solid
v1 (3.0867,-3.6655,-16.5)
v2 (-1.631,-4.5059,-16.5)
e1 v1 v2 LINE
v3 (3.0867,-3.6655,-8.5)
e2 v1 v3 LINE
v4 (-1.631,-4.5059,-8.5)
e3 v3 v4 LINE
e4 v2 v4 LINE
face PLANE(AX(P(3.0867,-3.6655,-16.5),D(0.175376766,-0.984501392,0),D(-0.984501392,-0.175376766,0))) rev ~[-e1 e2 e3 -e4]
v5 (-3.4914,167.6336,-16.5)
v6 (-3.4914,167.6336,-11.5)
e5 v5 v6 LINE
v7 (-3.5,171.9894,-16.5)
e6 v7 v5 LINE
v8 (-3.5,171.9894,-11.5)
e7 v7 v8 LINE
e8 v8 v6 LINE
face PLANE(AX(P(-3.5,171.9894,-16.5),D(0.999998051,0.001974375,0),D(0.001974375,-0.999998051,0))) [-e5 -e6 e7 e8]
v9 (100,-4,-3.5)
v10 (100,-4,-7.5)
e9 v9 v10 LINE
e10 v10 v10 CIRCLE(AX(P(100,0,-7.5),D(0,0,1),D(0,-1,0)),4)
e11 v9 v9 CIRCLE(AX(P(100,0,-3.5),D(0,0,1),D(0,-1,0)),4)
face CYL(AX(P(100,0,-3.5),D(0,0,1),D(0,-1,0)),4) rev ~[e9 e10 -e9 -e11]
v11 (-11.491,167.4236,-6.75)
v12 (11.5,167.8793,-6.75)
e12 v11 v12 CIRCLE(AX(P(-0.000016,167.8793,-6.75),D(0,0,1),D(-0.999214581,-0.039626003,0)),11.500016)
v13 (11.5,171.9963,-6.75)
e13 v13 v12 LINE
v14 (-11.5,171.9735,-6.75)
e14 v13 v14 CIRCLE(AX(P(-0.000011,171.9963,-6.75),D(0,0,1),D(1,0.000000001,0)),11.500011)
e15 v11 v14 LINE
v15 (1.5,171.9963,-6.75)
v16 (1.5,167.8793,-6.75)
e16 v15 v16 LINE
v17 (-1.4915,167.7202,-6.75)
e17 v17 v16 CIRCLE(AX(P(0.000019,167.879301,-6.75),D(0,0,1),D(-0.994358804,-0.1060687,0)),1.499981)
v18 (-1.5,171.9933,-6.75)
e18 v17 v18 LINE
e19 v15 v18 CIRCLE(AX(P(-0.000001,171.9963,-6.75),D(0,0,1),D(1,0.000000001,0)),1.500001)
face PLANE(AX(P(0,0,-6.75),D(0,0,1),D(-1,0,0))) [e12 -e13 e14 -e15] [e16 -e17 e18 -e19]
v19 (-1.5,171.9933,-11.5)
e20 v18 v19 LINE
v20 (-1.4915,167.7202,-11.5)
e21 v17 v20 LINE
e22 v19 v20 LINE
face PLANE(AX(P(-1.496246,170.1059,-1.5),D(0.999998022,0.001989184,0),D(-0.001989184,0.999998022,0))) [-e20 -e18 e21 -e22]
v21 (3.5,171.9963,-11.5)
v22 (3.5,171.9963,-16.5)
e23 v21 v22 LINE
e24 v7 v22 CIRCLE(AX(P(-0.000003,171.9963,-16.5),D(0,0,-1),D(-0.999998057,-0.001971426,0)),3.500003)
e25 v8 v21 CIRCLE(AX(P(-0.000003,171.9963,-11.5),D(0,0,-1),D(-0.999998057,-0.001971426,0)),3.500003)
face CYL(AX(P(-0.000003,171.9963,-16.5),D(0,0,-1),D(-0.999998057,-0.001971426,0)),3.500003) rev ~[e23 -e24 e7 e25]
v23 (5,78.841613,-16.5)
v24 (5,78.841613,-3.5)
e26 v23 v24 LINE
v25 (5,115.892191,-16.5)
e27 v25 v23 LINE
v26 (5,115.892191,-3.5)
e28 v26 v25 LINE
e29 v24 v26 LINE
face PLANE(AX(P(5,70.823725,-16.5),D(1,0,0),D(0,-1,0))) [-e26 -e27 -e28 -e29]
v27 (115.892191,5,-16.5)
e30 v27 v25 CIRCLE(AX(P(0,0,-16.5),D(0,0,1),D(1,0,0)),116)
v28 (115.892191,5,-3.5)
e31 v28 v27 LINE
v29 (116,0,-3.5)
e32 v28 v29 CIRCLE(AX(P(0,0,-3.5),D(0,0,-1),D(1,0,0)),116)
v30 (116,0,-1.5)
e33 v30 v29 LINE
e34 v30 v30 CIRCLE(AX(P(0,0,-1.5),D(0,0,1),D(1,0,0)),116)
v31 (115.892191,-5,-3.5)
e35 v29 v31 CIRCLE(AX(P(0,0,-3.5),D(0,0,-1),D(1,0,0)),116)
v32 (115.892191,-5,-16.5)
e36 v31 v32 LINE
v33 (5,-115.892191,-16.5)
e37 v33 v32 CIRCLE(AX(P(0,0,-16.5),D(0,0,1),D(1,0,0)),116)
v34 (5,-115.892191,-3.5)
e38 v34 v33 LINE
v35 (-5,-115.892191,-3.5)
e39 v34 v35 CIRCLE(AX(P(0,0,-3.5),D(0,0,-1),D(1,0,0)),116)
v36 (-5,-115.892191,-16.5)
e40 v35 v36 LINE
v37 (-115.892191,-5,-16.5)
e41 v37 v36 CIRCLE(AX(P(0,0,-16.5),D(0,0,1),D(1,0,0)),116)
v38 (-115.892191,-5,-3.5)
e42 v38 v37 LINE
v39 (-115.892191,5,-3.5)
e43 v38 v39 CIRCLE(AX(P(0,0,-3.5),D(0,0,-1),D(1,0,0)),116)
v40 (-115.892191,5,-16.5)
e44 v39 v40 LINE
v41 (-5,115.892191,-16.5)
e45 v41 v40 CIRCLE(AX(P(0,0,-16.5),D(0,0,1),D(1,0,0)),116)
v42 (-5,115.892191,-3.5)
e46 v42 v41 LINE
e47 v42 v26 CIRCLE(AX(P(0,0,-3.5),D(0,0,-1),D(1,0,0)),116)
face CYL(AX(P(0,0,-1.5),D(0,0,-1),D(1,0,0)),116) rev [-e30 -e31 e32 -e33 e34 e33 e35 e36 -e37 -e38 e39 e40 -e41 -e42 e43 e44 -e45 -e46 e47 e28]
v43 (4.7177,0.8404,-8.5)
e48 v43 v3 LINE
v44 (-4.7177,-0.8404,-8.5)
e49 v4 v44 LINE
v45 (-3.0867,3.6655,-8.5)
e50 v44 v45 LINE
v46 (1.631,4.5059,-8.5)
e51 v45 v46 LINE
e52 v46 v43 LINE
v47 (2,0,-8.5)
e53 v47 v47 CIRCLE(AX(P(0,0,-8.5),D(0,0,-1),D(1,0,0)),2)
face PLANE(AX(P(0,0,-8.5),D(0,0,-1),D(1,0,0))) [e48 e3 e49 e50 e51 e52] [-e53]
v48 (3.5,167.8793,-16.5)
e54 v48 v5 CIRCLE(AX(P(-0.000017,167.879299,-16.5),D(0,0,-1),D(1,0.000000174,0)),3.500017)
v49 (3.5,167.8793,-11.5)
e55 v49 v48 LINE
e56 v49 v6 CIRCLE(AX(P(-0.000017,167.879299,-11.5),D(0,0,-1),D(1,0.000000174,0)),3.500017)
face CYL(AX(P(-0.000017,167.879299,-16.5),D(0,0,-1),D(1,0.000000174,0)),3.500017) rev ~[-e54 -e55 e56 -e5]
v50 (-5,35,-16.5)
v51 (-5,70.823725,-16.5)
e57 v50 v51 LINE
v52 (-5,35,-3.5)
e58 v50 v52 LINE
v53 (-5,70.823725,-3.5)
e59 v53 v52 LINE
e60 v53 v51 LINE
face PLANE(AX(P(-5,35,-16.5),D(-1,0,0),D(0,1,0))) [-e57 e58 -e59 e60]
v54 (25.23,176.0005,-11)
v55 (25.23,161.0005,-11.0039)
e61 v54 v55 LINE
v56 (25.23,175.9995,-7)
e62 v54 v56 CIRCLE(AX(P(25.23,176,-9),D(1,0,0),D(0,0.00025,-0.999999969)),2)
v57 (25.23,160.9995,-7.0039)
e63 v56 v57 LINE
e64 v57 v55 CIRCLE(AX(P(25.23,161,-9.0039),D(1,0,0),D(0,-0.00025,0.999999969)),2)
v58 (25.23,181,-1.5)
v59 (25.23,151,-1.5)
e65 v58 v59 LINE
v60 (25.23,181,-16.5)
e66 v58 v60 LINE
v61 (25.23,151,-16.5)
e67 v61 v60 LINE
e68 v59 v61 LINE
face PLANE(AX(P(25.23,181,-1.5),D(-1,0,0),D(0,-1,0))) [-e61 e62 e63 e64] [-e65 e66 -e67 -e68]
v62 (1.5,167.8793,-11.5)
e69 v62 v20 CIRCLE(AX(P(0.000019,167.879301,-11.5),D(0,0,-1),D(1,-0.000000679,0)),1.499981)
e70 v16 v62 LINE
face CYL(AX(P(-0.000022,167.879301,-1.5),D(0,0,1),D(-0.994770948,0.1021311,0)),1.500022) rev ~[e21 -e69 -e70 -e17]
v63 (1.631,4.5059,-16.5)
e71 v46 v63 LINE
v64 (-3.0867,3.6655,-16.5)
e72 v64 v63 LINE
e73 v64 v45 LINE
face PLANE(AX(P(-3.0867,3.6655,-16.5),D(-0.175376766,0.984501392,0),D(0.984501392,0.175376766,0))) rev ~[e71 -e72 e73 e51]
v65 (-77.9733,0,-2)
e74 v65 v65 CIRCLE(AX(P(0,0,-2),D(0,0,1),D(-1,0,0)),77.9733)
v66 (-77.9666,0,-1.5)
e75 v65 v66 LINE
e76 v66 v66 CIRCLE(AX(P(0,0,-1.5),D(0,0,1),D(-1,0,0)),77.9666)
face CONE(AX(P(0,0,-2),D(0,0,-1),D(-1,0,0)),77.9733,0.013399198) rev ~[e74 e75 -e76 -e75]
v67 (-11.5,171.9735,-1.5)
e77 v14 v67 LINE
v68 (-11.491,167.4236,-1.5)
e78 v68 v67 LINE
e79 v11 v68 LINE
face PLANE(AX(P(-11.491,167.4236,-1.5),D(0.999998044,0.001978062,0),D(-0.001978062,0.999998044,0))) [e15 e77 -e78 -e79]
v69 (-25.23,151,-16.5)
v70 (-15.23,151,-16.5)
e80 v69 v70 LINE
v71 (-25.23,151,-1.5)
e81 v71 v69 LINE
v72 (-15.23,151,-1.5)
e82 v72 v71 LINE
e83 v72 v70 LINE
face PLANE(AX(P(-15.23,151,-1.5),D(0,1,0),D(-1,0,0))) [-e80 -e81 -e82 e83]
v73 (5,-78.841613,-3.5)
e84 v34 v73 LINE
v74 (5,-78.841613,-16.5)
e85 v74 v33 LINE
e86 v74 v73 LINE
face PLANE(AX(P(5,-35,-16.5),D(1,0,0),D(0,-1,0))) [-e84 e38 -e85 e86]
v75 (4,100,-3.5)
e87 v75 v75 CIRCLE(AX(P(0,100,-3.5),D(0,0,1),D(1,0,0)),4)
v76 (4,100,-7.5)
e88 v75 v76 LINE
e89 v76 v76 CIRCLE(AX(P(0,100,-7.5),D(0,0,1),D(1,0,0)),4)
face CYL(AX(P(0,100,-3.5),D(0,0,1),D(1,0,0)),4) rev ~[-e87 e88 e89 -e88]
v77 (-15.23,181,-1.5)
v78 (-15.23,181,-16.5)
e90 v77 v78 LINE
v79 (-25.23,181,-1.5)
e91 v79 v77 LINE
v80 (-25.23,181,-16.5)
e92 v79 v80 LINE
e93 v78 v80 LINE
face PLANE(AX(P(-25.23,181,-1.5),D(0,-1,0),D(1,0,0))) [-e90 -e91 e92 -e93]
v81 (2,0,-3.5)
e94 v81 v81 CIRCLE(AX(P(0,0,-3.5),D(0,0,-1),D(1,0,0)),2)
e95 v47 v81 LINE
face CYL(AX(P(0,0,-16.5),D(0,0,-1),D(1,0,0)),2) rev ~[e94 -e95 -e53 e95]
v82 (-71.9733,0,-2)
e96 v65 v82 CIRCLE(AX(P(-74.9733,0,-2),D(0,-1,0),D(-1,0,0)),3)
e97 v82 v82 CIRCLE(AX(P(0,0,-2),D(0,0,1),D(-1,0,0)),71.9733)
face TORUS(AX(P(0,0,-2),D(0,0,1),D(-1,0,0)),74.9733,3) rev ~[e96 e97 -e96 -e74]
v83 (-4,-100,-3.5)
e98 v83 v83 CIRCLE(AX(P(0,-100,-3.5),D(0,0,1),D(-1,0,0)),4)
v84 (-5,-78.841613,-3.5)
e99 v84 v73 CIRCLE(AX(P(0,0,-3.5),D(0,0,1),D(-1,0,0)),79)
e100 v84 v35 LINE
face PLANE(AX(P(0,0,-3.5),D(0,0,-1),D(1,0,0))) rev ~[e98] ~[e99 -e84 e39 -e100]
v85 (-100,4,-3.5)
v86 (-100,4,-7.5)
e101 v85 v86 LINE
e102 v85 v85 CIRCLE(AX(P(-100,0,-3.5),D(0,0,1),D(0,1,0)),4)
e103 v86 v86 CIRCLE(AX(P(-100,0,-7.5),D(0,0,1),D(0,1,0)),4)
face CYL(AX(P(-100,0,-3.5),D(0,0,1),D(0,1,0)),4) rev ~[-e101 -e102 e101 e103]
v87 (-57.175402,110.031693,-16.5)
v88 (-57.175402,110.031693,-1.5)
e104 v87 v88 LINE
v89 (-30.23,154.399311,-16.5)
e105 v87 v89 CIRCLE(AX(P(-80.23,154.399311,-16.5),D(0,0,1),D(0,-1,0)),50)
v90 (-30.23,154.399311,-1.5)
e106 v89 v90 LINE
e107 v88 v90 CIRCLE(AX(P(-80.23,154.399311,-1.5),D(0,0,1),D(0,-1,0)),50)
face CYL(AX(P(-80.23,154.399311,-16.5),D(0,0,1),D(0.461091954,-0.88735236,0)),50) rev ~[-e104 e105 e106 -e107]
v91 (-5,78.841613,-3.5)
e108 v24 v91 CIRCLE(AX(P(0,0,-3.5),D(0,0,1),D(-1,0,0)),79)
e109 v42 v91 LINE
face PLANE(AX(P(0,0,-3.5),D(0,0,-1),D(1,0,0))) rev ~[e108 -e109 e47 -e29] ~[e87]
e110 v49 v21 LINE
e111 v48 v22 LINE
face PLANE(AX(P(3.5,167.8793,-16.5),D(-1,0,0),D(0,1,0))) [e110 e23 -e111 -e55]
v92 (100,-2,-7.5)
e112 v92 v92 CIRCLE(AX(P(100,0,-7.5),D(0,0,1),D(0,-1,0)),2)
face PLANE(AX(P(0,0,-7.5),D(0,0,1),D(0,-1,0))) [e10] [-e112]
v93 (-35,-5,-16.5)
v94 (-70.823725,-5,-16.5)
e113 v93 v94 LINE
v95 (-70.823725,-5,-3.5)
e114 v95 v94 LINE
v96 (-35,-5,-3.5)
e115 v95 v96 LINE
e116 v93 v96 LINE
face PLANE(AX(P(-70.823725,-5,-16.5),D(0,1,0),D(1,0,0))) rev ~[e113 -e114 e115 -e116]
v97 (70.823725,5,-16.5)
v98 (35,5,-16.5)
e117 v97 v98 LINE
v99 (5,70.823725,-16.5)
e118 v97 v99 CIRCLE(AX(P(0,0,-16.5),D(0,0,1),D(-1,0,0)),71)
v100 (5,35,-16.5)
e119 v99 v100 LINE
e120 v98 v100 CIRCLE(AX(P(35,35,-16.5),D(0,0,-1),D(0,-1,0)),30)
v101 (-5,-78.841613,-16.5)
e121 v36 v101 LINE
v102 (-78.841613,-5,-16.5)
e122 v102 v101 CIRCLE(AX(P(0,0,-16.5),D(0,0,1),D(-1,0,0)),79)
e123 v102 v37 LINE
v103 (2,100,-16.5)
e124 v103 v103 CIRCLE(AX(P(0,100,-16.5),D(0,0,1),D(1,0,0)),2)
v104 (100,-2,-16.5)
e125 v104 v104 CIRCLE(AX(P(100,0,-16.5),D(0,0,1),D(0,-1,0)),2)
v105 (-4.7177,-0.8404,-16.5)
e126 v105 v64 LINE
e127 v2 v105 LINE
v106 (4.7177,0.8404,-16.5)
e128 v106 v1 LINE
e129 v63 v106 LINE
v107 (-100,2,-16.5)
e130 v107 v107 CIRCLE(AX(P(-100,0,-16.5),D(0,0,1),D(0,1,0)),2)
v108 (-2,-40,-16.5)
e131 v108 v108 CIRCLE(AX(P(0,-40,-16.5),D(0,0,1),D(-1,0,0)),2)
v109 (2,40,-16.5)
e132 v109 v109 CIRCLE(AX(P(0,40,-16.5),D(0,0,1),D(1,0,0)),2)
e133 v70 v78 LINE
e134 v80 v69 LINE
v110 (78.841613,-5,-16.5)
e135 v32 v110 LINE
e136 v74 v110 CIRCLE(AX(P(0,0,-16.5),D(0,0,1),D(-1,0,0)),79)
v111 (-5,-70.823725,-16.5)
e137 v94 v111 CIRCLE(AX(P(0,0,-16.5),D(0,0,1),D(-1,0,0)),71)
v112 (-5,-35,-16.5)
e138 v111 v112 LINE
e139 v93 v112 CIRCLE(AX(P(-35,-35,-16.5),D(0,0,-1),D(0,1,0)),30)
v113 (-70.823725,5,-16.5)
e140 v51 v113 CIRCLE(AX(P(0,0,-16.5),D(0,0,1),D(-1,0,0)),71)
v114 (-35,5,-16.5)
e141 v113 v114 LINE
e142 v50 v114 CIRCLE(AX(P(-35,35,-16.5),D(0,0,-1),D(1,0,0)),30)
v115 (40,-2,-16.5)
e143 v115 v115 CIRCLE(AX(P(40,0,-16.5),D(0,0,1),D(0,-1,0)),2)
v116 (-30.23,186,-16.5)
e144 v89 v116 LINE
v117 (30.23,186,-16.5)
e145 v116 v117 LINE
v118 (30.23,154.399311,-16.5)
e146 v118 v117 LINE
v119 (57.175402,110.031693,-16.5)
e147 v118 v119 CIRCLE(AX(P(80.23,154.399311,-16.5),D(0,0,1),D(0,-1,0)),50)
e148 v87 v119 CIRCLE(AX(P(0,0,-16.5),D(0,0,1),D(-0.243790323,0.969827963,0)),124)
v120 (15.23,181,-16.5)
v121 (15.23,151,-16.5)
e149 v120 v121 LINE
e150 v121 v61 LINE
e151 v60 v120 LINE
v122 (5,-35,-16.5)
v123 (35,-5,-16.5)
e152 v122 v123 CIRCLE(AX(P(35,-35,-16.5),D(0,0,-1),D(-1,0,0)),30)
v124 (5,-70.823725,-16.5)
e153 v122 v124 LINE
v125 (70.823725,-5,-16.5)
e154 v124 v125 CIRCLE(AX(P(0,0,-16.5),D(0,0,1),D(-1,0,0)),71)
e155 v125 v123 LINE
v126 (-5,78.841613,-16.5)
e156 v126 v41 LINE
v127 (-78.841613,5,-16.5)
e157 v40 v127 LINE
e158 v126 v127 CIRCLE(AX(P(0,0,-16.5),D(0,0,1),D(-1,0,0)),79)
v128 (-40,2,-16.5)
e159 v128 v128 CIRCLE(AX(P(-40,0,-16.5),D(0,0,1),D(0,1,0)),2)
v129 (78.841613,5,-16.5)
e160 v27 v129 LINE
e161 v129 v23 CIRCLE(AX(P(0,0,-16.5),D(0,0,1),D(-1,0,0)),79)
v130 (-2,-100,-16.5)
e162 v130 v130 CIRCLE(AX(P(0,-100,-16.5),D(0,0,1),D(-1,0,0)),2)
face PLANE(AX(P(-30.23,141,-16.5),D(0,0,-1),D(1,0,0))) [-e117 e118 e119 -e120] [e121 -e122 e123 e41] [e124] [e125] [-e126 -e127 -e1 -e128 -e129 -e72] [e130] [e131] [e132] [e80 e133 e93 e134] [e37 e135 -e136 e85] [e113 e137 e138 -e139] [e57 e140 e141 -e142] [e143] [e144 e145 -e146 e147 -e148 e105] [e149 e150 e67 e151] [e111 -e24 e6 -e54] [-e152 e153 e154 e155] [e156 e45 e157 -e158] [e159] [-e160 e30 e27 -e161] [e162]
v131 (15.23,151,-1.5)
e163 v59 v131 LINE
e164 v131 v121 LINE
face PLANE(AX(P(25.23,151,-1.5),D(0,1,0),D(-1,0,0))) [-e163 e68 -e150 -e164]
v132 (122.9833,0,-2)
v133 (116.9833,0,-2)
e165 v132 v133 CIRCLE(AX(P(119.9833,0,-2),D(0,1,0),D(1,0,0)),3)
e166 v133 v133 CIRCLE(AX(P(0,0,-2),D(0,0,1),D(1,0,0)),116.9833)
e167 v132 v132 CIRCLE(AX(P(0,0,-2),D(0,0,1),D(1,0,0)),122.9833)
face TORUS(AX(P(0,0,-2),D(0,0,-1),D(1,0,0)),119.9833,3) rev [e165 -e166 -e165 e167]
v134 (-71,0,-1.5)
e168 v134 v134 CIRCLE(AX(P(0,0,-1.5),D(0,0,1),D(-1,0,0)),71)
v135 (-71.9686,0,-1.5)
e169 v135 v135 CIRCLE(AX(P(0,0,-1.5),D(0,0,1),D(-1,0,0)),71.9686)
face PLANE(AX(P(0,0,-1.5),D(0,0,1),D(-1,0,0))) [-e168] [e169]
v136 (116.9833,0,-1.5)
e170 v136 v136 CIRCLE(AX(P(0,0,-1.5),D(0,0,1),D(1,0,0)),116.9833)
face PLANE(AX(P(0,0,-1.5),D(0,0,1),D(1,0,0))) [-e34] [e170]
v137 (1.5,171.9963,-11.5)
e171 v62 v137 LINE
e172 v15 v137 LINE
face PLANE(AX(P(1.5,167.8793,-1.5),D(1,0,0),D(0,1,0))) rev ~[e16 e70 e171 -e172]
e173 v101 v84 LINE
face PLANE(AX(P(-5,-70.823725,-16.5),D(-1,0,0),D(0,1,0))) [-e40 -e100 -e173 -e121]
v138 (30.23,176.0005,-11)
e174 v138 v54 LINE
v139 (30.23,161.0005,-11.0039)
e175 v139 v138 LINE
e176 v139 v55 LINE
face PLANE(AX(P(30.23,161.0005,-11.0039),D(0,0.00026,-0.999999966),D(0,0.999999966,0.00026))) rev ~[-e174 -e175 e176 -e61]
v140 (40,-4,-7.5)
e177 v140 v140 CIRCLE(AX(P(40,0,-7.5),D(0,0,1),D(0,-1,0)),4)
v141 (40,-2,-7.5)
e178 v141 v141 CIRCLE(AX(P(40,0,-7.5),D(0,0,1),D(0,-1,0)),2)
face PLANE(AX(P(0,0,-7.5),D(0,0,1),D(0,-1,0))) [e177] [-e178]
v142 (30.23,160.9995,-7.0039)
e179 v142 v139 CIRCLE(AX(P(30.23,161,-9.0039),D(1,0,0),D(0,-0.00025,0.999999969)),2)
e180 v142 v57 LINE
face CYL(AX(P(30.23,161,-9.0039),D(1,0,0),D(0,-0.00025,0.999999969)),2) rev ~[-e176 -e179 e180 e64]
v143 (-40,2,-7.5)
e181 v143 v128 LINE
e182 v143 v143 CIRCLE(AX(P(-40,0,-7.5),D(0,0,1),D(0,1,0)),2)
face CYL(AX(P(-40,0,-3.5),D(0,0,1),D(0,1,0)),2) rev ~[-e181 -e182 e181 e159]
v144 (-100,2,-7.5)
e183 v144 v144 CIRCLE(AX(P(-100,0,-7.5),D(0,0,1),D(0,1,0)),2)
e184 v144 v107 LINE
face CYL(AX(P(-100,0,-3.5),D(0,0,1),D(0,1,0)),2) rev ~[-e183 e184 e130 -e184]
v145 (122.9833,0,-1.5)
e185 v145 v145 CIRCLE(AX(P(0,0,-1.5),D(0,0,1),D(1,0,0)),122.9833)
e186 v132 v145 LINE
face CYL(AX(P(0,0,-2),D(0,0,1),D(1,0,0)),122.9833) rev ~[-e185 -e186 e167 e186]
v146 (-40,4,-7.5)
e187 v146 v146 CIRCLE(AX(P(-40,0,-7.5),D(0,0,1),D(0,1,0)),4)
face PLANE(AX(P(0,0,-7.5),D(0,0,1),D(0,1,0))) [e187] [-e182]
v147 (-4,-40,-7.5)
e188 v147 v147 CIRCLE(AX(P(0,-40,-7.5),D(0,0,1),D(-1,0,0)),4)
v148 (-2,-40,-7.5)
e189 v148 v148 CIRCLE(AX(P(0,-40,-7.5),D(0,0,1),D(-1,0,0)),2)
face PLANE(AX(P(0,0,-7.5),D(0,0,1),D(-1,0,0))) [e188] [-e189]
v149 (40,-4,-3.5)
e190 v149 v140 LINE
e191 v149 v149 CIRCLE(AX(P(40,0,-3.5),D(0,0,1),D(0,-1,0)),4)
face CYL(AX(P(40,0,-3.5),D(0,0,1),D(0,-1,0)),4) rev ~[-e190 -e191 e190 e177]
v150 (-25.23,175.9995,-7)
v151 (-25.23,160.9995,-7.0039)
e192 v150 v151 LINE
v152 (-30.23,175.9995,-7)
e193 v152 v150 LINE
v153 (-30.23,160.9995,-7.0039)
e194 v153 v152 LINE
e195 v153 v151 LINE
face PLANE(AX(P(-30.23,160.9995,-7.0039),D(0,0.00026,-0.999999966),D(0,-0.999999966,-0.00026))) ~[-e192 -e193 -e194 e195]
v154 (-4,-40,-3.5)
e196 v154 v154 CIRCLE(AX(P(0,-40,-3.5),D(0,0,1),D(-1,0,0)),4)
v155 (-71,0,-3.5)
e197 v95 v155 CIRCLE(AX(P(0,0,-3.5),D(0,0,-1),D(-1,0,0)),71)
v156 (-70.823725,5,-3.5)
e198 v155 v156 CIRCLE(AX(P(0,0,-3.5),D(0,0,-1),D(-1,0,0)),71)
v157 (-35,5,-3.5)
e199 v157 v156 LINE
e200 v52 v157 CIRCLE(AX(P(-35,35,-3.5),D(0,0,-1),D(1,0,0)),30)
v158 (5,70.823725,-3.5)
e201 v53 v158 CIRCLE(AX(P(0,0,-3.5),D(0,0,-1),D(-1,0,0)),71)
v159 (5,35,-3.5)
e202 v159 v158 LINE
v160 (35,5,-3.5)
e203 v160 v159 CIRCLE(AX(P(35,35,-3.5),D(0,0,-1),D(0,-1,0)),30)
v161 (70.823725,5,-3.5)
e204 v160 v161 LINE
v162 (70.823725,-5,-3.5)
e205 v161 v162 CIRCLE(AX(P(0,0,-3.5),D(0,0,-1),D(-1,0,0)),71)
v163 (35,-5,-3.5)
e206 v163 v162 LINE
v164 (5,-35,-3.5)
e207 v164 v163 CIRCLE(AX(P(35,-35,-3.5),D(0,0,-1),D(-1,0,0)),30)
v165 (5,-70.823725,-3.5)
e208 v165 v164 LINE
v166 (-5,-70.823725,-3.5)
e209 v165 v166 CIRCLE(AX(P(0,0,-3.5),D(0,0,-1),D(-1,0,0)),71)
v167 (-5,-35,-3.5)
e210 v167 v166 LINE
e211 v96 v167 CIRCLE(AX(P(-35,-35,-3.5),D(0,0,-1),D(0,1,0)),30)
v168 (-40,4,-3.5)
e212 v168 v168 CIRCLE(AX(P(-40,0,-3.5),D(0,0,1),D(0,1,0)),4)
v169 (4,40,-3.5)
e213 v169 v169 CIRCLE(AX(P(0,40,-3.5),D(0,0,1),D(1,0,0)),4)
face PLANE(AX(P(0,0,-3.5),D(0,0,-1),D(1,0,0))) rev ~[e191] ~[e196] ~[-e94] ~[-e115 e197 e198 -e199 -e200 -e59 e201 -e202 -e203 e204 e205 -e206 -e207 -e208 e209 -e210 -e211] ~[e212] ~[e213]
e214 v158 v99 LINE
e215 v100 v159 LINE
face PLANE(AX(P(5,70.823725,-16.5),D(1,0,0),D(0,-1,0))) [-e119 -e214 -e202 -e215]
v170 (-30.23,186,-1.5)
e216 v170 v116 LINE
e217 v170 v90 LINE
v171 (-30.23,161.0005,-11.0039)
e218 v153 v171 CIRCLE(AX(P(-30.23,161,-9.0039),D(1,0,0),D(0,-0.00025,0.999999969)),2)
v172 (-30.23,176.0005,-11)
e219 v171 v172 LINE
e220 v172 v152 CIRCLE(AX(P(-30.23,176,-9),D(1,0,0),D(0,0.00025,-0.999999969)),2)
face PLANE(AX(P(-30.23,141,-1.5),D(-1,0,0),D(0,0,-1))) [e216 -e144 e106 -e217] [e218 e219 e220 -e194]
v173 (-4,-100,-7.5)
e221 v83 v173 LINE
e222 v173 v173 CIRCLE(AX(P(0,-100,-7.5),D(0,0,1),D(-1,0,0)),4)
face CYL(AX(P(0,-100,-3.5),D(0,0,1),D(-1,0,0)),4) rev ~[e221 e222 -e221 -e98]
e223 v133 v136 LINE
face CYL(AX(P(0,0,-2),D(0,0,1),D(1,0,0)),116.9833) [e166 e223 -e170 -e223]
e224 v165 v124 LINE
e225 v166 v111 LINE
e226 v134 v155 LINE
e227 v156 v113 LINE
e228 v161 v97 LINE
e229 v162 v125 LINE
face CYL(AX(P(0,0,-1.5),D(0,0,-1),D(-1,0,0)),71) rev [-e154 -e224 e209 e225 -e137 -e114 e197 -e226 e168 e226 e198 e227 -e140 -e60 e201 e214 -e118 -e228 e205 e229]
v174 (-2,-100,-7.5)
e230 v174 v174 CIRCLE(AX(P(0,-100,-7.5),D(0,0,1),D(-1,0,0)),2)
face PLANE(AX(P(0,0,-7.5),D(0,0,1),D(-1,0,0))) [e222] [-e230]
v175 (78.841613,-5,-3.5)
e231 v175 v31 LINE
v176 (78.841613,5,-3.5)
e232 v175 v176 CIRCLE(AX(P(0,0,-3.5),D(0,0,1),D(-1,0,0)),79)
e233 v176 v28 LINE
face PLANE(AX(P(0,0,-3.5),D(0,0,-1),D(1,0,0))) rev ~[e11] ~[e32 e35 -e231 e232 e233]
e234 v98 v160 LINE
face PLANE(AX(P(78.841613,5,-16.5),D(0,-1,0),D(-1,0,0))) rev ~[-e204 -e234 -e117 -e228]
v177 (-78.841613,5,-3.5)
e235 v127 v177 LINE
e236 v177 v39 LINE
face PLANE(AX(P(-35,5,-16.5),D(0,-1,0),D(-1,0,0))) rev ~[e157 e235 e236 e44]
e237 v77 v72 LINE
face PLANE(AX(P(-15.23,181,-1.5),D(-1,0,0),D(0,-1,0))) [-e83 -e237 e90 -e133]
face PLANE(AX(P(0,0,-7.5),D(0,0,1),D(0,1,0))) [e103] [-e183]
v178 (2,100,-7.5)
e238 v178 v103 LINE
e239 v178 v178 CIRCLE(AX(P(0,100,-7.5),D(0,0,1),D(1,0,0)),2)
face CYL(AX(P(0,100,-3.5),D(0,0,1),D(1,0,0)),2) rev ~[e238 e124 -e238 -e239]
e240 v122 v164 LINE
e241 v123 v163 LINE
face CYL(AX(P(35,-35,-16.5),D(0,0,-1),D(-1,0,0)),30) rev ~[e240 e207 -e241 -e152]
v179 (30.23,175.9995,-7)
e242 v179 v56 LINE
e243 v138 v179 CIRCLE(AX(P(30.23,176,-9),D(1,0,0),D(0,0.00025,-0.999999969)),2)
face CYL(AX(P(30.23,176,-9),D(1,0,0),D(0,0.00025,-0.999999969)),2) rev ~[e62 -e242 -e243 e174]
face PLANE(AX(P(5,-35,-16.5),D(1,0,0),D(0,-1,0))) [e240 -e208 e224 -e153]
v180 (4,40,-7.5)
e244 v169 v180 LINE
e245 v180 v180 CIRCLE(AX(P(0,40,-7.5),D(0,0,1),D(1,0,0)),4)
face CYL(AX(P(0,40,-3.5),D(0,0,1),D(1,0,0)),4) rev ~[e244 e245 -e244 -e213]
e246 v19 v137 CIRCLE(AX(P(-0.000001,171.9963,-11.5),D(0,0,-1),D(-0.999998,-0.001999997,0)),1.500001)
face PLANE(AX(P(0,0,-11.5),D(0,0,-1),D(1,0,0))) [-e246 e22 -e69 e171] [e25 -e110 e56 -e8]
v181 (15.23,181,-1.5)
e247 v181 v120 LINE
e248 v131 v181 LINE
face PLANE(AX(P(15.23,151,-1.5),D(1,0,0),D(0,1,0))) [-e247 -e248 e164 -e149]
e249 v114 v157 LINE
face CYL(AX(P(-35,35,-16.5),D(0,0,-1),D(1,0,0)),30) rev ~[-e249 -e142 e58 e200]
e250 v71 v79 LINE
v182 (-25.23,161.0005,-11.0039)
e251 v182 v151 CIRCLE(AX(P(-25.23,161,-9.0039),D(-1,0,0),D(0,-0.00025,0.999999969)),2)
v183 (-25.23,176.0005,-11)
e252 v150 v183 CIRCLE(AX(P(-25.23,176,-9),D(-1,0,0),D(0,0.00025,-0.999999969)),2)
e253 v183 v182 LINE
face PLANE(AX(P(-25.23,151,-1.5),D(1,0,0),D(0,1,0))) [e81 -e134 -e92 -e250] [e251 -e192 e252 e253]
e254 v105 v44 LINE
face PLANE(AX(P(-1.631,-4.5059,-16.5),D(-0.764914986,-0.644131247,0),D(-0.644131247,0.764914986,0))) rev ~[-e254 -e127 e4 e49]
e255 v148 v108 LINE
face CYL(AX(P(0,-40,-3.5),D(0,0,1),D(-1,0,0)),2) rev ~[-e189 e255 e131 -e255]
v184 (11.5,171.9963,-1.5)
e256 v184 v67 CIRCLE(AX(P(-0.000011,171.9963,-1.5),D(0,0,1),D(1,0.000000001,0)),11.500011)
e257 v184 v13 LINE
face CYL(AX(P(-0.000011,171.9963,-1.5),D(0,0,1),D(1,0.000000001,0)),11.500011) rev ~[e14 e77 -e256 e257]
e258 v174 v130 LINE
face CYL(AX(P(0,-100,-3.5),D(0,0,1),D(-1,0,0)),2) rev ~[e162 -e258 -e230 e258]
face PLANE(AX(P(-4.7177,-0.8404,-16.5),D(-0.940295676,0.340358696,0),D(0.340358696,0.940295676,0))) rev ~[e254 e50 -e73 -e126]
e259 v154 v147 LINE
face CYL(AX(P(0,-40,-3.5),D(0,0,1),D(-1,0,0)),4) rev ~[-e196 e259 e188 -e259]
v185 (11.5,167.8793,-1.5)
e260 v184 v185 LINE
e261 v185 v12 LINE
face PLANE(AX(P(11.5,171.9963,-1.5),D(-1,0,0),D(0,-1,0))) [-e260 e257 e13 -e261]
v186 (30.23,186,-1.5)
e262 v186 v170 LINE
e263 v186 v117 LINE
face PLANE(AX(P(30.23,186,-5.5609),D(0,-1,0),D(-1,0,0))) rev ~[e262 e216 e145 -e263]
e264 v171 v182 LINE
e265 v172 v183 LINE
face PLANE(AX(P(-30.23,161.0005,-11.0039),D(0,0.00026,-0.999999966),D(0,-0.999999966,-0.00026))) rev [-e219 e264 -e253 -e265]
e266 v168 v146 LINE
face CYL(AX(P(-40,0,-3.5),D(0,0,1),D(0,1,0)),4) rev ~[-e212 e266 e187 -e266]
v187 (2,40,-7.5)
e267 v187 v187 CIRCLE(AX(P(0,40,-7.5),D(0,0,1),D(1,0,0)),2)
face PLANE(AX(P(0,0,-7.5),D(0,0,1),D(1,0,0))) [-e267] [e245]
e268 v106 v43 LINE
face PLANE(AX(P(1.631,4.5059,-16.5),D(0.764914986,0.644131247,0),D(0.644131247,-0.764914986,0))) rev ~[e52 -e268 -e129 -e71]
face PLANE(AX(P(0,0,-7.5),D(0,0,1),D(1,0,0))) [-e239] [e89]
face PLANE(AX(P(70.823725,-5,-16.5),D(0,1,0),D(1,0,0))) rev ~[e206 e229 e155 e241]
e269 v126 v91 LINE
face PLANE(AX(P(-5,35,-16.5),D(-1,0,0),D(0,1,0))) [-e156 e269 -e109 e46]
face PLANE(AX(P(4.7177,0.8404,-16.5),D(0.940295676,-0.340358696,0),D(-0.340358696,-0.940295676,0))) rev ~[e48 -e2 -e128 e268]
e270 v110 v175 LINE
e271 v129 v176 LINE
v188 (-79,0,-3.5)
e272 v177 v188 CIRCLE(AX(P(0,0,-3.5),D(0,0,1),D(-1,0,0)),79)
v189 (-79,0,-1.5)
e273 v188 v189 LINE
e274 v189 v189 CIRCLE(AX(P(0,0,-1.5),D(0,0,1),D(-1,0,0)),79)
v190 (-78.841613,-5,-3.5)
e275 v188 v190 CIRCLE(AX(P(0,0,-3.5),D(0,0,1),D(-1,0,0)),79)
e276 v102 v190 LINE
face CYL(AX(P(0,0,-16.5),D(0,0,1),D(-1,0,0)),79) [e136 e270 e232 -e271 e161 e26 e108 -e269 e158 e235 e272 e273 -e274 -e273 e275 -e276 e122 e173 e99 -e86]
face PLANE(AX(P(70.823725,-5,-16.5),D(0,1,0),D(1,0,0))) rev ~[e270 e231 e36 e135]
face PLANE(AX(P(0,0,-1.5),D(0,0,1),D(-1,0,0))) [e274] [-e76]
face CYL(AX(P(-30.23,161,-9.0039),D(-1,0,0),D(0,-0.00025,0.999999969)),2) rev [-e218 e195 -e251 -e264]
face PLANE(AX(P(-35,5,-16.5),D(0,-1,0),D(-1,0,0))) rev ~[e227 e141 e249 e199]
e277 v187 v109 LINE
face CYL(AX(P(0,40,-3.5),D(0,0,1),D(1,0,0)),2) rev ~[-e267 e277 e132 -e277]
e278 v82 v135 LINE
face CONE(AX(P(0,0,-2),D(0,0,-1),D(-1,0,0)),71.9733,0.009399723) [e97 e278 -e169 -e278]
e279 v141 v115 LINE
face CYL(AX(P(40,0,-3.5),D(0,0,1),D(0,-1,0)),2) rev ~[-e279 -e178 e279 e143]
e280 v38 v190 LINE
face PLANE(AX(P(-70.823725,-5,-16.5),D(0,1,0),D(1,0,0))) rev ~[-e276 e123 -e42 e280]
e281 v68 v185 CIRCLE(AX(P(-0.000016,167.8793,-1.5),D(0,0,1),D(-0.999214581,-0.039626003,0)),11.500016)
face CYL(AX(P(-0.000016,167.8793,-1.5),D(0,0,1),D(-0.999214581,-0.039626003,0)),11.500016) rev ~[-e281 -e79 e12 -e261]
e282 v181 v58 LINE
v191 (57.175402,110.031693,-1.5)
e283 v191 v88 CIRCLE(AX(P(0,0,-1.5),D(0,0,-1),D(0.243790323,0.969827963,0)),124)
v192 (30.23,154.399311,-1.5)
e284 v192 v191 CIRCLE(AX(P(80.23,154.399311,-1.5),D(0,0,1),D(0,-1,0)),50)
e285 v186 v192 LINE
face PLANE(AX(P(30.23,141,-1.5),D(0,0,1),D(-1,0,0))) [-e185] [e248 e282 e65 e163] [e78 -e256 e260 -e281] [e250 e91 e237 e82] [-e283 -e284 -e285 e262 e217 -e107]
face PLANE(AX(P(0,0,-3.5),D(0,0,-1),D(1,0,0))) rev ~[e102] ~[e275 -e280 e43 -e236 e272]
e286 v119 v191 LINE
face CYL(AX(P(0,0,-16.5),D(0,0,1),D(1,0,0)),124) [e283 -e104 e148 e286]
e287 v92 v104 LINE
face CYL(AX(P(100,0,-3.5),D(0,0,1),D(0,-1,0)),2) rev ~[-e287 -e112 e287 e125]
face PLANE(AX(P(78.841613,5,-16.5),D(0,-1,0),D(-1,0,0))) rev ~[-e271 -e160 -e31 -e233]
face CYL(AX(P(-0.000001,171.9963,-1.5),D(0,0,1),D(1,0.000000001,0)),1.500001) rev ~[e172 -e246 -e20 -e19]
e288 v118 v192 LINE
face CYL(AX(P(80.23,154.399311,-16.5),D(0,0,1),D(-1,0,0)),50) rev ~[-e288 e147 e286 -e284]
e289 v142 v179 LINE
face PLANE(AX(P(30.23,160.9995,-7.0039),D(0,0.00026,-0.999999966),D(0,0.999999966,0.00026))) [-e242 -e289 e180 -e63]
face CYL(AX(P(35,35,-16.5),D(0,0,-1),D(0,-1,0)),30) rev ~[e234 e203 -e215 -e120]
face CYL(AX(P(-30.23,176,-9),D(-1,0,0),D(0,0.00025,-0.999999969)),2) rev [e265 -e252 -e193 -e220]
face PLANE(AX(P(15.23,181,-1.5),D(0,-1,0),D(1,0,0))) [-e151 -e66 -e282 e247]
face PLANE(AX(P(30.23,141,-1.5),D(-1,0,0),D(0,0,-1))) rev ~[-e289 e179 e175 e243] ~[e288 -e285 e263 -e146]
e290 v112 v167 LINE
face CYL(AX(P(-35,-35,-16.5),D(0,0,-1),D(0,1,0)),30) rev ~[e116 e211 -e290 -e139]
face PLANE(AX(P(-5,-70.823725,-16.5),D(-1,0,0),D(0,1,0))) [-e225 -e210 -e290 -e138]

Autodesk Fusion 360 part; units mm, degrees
sketch "Sketch2" plane through (0, 0, 0) normal (0, 1, 0) x (1, 0, 0)
  circle A0 centre (-74.9733, 2) radius 3
  circle A1 centre (119.9833, 2) radius 3
  line L0 (-83.0515, 1.5) -> (128.8515, 1.5) construction
  line L1 (-71, 16.5) -> (-79, 16.5)
  line L2 (-79, 16.5) -> (-79, 1.5)
  line L3 (-79, 1.5) -> (-71, 1.5)
  line L4 (-71, 1.5) -> (-71, 16.5)
  line L5 (-71, 16.5) -> (-79, 1.5) construction
  line L6 (-79, 16.5) -> (-71, 1.5) construction
  line L7 (124, 1.5) -> (116, 1.5)
  line L8 (116, 1.5) -> (116, 16.5)
  line L9 (116, 16.5) -> (124, 16.5)
  line L10 (124, 16.5) -> (124, 1.5)
  line L11 (124, 1.5) -> (116, 16.5) construction
  line L12 (116, 1.5) -> (124, 16.5) construction
  line L13 (-74.9733, 2) -> (-77.9733, 2)
  line L14 (-74.9733, 2) -> (-71.9733, 2)
  line L15 (-71.9733, 2) -> (-71.9686, 1.5)
  line L16 (-77.9733, 2) -> (-77.9666, 1.5)
  line L17 (119.9833, 2) -> (122.9833, 2)
  line L18 (119.9833, 2) -> (116.9833, 2)
  line L19 (116.9833, 2) -> (116.9833, 1.5)
  line L20 (122.9833, 2) -> (122.9833, 1.5)
  point P0 (-75, 9)
  point P1 (120, 9)
  dimension "d3" = 120
  dimension "d4" = 75
  dimension "d5" = 6
  dimension "d6" = 6
  dimension "d7" = 1.5
  dimension "d8" = 8
  dimension "d9" = 15
  dimension "d11" = 8
  dimension "d12" = 15
  dimension "d99" = 7
  dimension "d100" = 7
  dimension "d101" = 90
revolve "Revolve1" add sketch "Sketch2" angle 360 about axis through (0, 0, 1.75) along (0, 0, 1) contours A0 L3 L15 | A0 L3 L16 | A0 L1 L2 L3 L4 L15 L16 | A1 L7 L20 | A1 L7 L8 L9 L10 L19 L20 | A1 L7 L19 makes body 1 at (123.3838, -12.3464, -11.5) makes body 2 at (-78.6074, 7.8659, -11.5)
sketch "Sketch3" plane through (0, 0, -16.5) normal (0, 0, -1) x (1, 0, 0)
  circle A0 centre (0, 0) radius 79
  circle A1 centre (0, 0) radius 71
  line L0 (5, 120) -> (-5, 120)
  line L1 (-5, -120) -> (5, -120)
  line L2 (5, 120) -> (-5, -120) construction
  line L3 (-5, 120) -> (5, -120) construction
  line L4 (-120, -5) -> (-120, 5)
  line L5 (120, 5) -> (120, -5)
  line L6 (120, -5) -> (-120, 5) construction
  line L7 (-120, -5) -> (120, 5) construction
  line L8 (-5, 120) -> (-5, 35)
  line L9 (-5, 0.2083) -> (-5, -0.2083)
  line L10 (-5, -35) -> (-5, -120)
  line L11 (5, -120) -> (5, -35)
  line L12 (120, -5) -> (35, -5)
  line L13 (0.2083, -5) -> (-0.2083, -5)
  line L14 (-35, -5) -> (-120, -5)
  line L15 (-120, 5) -> (-35, 5)
  line L16 (35, 5) -> (120, 5)
  line L17 (5, -0.2083) -> (5, 0.2083)
  line L18 (5, 35) -> (5, 120)
  arc A2 (-35, 5) -> (-5, 35) centre (-35, 35) ccw
  arc A3 (5, 35) -> (35, 5) centre (35, 35) ccw
  arc A4 (35, -5) -> (5, -35) centre (35, -35) ccw
  arc A5 (-5, -35) -> (-35, -5) centre (-35, -35) ccw
  circle A6 centre (0, 0) radius 2
  dimension "d15" = 10
  dimension "d16" = 240
  dimension "d17" = 240
  dimension "d18" = 10
  dimension "d19" = 30
  dimension "d21" = 4
extrude "Extrude1" add sketch "Sketch3" against normal blind 13 contours A0 A1 L12 L16 | A0 L5 L12 L16 | A0 A1 L8 L18 | A0 L0 L8 L18 | A1 L8 L10 L11 L12 L14 L15 L16 L18 A2 A3 A4 A5 | A0 L1 L10 L11 | A0 A1 L10 L11 | A0 A1 L14 L15 | A0 L4 L14 L15 bodies 1 2
ref_plane "WorkPlane1" through (0, 118, 0) normal (0, 1, 0) x (0, 0, 1)
sketch "Sketch4" plane through (0, 118, 0) normal (0, 1, 0) x (1, 0, 0)
  line L0 (-30.23, 16.5) -> (30.23, 16.5)
  line L1 (30.23, 16.5) -> (30.23, 5.5609)
  line L2 (30.23, 5.5609) -> (-30.23, 5.5609)
  line L3 (-30.23, 5.5609) -> (-30.23, 16.5)
  line L4 (-30.23, 16.5) -> (30.23, 5.5609) construction
  line L5 (30.23, 16.5) -> (-30.23, 5.5609) construction
  circle A0 centre (25, 11.0304) radius 1.5
  circle A1 centre (-25, 11.0304) radius 1.5
  point P0 (0, 11.0304)
  dimension "d25" = 3
  dimension "d26" = 25
  dimension "d27" = 3
  dimension "d28" = 25
extrude "Extrude2" add sketch "Sketch4" along normal blind 23 contours L0 L1 L2 L3 | A0 | A1 bodies 1
extrude "Extrude4" add 1 faces at (0, 135.3333, -5.5609) along direction (0, 0, 1) up to surface (4.0609 mm away) on bodies 1 bodies 1
extrude "Extrude5" add 1 faces at (10.0767, 141, -11.5) along direction (0, 1, 0) blind 45 on bodies 1 bodies 1
sketch "Sketch5" plane through (0, 0, -1.5) normal (0, 0, 1) x (-1, 0, 0)
  arc A0 (30.23, -120.2587) -> (-30.23, -120.2587) centre (0, 0) ccw
  line L0 (-30.23, -120.2587) -> (-30.23, -186)
  line L1 (-30.23, -186) -> (30.23, -186)
  line L2 (30.23, -186) -> (30.23, -120.2587)
  circle A1 centre (0, 0) radius 122.9414
  line L3 (1.4915, -167.7202) -> (1.5, -171.9933)
  line L4 (-1.5, -167.8793) -> (-1.5, -171.9963)
  arc A2 (1.4963, -170.1059) -> (1.4958, -169.8882) centre (0, -170) ccw
  arc A3 (1.4922, -168.0325) -> (-1.5, -167.8793) centre (0, -167.8793) ccw
  arc A4 (-1.5, -171.9963) -> (1.5, -171.9933) centre (0, -171.9963) ccw
  dimension "d37" = 60.4599
  dimension "d38" = 3
  dimension "d39" = 3
  dimension "d40" = 170
  dimension "d41" = 3
extrude "Extrude6" cut sketch "Sketch5" against normal blind 21 contours L3 L4 A3 A4 bodies 1
sketch "Sketch6" plane through (0, 0, -1.5) normal (0, 0, 1) x (-1, 0, 0)
  line L0 (-1.5, -171.9963) -> (-1.5, -167.8793)
  arc A0 (1.4915, -167.7202) -> (-1.5, -167.8793) centre (0, -167.8793) ccw
  line L1 (1.4915, -167.7202) -> (1.5, -171.9933)
  arc A1 (-1.5, -171.9963) -> (1.5, -171.9933) centre (0, -171.9963) ccw
  arc A2 (30.23, -120.2587) -> (-30.23, -120.2587) centre (0, 0) ccw
  line L2 (-30.23, -120.2587) -> (-30.23, -186)
  line L3 (-30.23, -186) -> (30.23, -186)
  line L4 (30.23, -186) -> (30.23, -120.2587)
  circle A3 centre (0, 0) radius 122.9414
  line L5 (-25.23, -151) -> (-15.23, -151)
  line L6 (-15.23, -151) -> (-15.23, -181)
  line L7 (-15.23, -181) -> (-25.23, -181)
  line L8 (-25.23, -181) -> (-25.23, -151)
  line L9 (15.23, -151) -> (25.23, -151)
  line L10 (25.23, -151) -> (25.23, -181)
  line L11 (25.23, -181) -> (15.23, -181)
  line L12 (15.23, -181) -> (15.23, -151)
  dimension "d44" = 10
  dimension "d45" = 30
  dimension "d46" = 5
  dimension "d47" = 5
  dimension "d48" = 10
  dimension "d49" = 30
  dimension "d50" = 5
  dimension "d51" = 5
extrude "Extrude7" cut sketch "Sketch6" against normal blind 17 contours L5 L6 L7 L8 | L9 L10 L11 L12 bodies 1
fillet "Fillet1" radius 50 2 edges at (30.23, 120.2587, -9) (-30.23, 120.2587, -9) on bodies 1
sketch "Sketch8" plane through (0, 0, -16.5) normal (0, 0, -1) x (1, 0, 0)
  line L0 (-25.23, -181) -> (-25.23, -151)
  line L1 (-25.23, -151) -> (-15.23, -151)
  line L2 (-15.23, -151) -> (-15.23, -181)
  line L3 (-15.23, -181) -> (-25.23, -181)
  line L4 (15.23, -181) -> (15.23, -151)
  line L5 (15.23, -151) -> (25.23, -151)
  line L6 (25.23, -151) -> (25.23, -181)
  line L7 (25.23, -181) -> (15.23, -181)
  line L8 (1.5, -167.8793) -> (1.5, -171.9963)
  arc A0 (-1.5, -171.9933) -> (1.5, -171.9963) centre (0, -171.9963) ccw
  line L9 (-1.5, -171.9933) -> (-1.4915, -167.7202)
  arc A1 (1.5, -167.8793) -> (-1.4915, -167.7202) centre (0, -167.8793) ccw
  line L10 (-30.23, -154.3993) -> (-30.23, -186)
  line L11 (-30.23, -186) -> (30.23, -186)
  line L12 (30.23, -186) -> (30.23, -154.3993)
  arc A2 (57.1754, -110.0317) -> (30.23, -154.3993) centre (80.23, -154.3993) ccw
  arc A3 (57.1754, -110.0317) -> (-57.1754, -110.0317) centre (0, 0) ccw
  arc A4 (-30.23, -154.3993) -> (-57.1754, -110.0317) centre (-80.23, -154.3993) ccw
  arc A5 (5, -115.8922) -> (115.8922, -5) centre (0, 0) ccw
  line L13 (5, -115.8922) -> (5, -78.8416)
  arc A6 (5, -78.8416) -> (78.8416, -5) centre (0, 0) ccw
  line L14 (78.8416, -5) -> (115.8922, -5)
  line L15 (115.8922, 5) -> (78.8416, 5)
  arc A7 (78.8416, 5) -> (5, 78.8416) centre (0, 0) ccw
  line L16 (5, 78.8416) -> (5, 115.8922)
  arc A8 (115.8922, 5) -> (5, 115.8922) centre (0, 0) ccw
  line L17 (-5, 115.8922) -> (-5, 78.8416)
  arc A9 (-5, 78.8416) -> (-78.8416, 5) centre (0, 0) ccw
  line L18 (-78.8416, 5) -> (-115.8922, 5)
  arc A10 (-5, 115.8922) -> (-115.8922, 5) centre (0, 0) ccw
  line L19 (-70.8237, -5) -> (-35, -5)
  arc A11 (-5, -35) -> (-35, -5) centre (-35, -35) ccw
  line L20 (-5, -35) -> (-5, -70.8237)
  arc A12 (-70.8237, -5) -> (-5, -70.8237) centre (0, 0) ccw
  circle A13 centre (0, 0) radius 2
  line L21 (-5, 70.8237) -> (-5, 35)
  arc A14 (-35, 5) -> (-5, 35) centre (-35, 35) ccw
  line L22 (-35, 5) -> (-70.8237, 5)
  arc A15 (-5, 70.8237) -> (-70.8237, 5) centre (0, 0) ccw
  line L23 (70.8237, 5) -> (35, 5)
  arc A16 (5, 35) -> (35, 5) centre (35, 35) ccw
  line L24 (5, 35) -> (5, 70.8237)
  arc A17 (70.8237, 5) -> (5, 70.8237) centre (0, 0) ccw
  arc A18 (5, -70.8237) -> (70.8237, -5) centre (0, 0) ccw
  line L25 (5, -70.8237) -> (5, -35)
  arc A19 (35, -5) -> (5, -35) centre (35, -35) ccw
  line L26 (35, -5) -> (70.8237, -5)
  line L27 (-115.8922, -5) -> (-78.8416, -5)
  arc A20 (-78.8416, -5) -> (-5, -78.8416) centre (0, 0) ccw
  line L28 (-5, -78.8416) -> (-5, -115.8922)
  arc A21 (-115.8922, -5) -> (-5, -115.8922) centre (0, 0) ccw
  line L29 (3.5, -167.8793) -> (3.5, -171.9963)
  arc A22 (-3.5, -171.9894) -> (3.5, -171.9963) centre (0, -171.9963) ccw
  line L30 (-3.5, -171.9894) -> (-3.4914, -167.6336)
  arc A23 (3.5, -167.8793) -> (-3.4914, -167.6336) centre (0, -167.8793) ccw
  dimension "d66" = 2
extrude "Extrude8" cut sketch "Sketch8" against normal blind 3 contours L29 A22 L30 A23 bodies 1
sketch "Sketch9" plane through (0, 0, -1.5) normal (0, 0, 1) x (-1, 0, 0)
  line L0 (25.23, -151) -> (25.23, -181)
  line L1 (25.23, -181) -> (15.23, -181)
  line L2 (15.23, -181) -> (15.23, -151)
  line L3 (15.23, -151) -> (25.23, -151)
  line L4 (-15.23, -151) -> (-15.23, -181)
  line L5 (-15.23, -181) -> (-25.23, -181)
  line L6 (-25.23, -181) -> (-25.23, -151)
  line L7 (-25.23, -151) -> (-15.23, -151)
  line L8 (-1.5, -171.9963) -> (-1.5, -167.8793)
  arc A0 (1.4915, -167.7202) -> (-1.5, -167.8793) centre (0, -167.8793) ccw
  line L9 (1.4915, -167.7202) -> (1.5, -171.9933)
  arc A1 (-1.5, -171.9963) -> (1.5, -171.9933) centre (0, -171.9963) ccw
  arc A2 (57.1754, -110.0317) -> (-57.1754, -110.0317) centre (0, 0) ccw
  arc A3 (-30.23, -154.3993) -> (-57.1754, -110.0317) centre (-80.23, -154.3993) ccw
  line L10 (-30.23, -154.3993) -> (-30.23, -186)
  line L11 (-30.23, -186) -> (30.23, -186)
  line L12 (30.23, -186) -> (30.23, -154.3993)
  arc A4 (57.1754, -110.0317) -> (30.23, -154.3993) centre (80.23, -154.3993) ccw
  circle A5 centre (0, 0) radius 122.9414
  arc A6 (11.491, -167.4236) -> (-11.5, -167.8793) centre (0, -167.8793) ccw
  line L13 (-11.5, -171.9963) -> (-11.5, -167.8793)
  arc A7 (-11.5, -171.9963) -> (11.5, -171.9735) centre (0, -171.9963) ccw
  line L14 (11.491, -167.4236) -> (11.5, -171.9735)
  dimension "d69" = 10
extrude "Extrude9" cut sketch "Sketch9" against normal blind 3.25 contours A6 L13 A7 L14 bodies 1
sketch "Sketch10" plane through (0, 0, -3.5) normal (0, 0, 1) x (-1, 0, 0)
  circle A0 centre (0, 0) radius 2
  arc A1 (-70.8237, 5) -> (-70.8237, -5) centre (0, 0) ccw
  line L0 (-70.8237, -5) -> (-35, -5)
  arc A2 (-5, -35) -> (-35, -5) centre (-35, -35) ccw
  line L1 (-5, -35) -> (-5, -70.8237)
  arc A3 (-5, -70.8237) -> (5, -70.8237) centre (0, 0) ccw
  line L2 (5, -70.8237) -> (5, -35)
  arc A4 (35, -5) -> (5, -35) centre (35, -35) ccw
  line L3 (35, -5) -> (70.8237, -5)
  arc A5 (70.8237, -5) -> (70.8237, 5) centre (0, 0) ccw
  line L4 (70.8237, 5) -> (35, 5)
  arc A6 (5, 35) -> (35, 5) centre (35, 35) ccw
  line L5 (5, 35) -> (5, 70.8237)
  arc A7 (5, 70.8237) -> (-5, 70.8237) centre (0, 0) ccw
  line L6 (-5, 70.8237) -> (-5, 35)
  arc A8 (-35, 5) -> (-5, 35) centre (-35, 35) ccw
  line L7 (-35, 5) -> (-70.8237, 5)
  circle A9 centre (0, 40) radius 2
  circle A10 centre (0, 100) radius 2
  circle A11 centre (0, 100) radius 4
  circle A12 centre (0, 40) radius 4
  dimension "d72" = 4
  dimension "d73" = 4
  dimension "d74" = 40
  dimension "d75" = 100
  dimension "d78" = 8
  dimension "d79" = 8
extrude "Extrude10" cut sketch "Sketch10" against normal blind 28 contours A9 | A10 bodies 1
extrude "Extrude11" cut sketch "Sketch10" against normal blind 4 contours A11 | A12 bodies 1
pattern_circular "C-Pattern1" count 4 over 360 about axis through (0, 0, 1.75) along (0, 0, 1) of "Extrude11", "Extrude10"
sketch "Sketch11" plane through (30.23, 0, 0) normal (1, 0, 0) x (0, 1, 0)
  line L0 (154.3993, -1.5) -> (154.3993, -16.5)
  line L1 (154.3993, -16.5) -> (186, -16.5)
  line L2 (186, -16.5) -> (186, -1.5)
  line L3 (186, -1.5) -> (154.3993, -1.5)
  line L4 (160.9995, -7.0039) -> (175.9995, -7)
  line L5 (161.0005, -11.0039) -> (176.0005, -11)
  arc A0 (160.9995, -7.0039) -> (161.0005, -11.0039) centre (161, -9.0039) ccw
  arc A1 (176.0005, -11) -> (175.9995, -7) centre (176, -9) ccw
  dimension "d84" = 4
  dimension "d85" = 4
  dimension "d86" = 10
  dimension "d87" = 15
extrude "Extrude12" cut sketch "Sketch11" against normal blind 7 contours L4 L5 A0 A1 bodies 1
mirror "Mirror1" about plane through (0, 0, 0) normal (1, 0, 0) of "Extrude12"
sketch "Sketch12" plane through (0, 0, -16.5) normal (0, 0, -1) x (1, 0, 0)
  circle A0 centre (-40, 0) radius 2
  circle A1 centre (-100, 0) radius 2
  circle A2 centre (0, -40) radius 2
  circle A3 centre (0, -100) radius 2
  circle A4 centre (40, 0) radius 2
  circle A5 centre (100, 0) radius 2
  circle A6 centre (0, 40) radius 2
  circle A7 centre (0, 100) radius 2
  line L0 (3.5, -167.8793) -> (3.5, -171.9963)
  arc A8 (-3.5, -171.9894) -> (3.5, -171.9963) centre (0, -171.9963) ccw
  line L1 (-3.5, -171.9894) -> (-3.4914, -167.6336)
  arc A9 (3.5, -167.8793) -> (-3.4914, -167.6336) centre (0, -167.8793) ccw
  line L2 (-25.23, -181) -> (-25.23, -151)
  line L3 (-25.23, -151) -> (-15.23, -151)
  line L4 (-15.23, -151) -> (-15.23, -181)
  line L5 (-15.23, -181) -> (-25.23, -181)
  line L6 (15.23, -181) -> (15.23, -151)
  line L7 (15.23, -151) -> (25.23, -151)
  line L8 (25.23, -151) -> (25.23, -181)
  line L9 (25.23, -181) -> (15.23, -181)
  line L10 (-30.23, -154.3993) -> (-30.23, -186)
  line L11 (-30.23, -186) -> (30.23, -186)
  line L12 (30.23, -186) -> (30.23, -154.3993)
  arc A10 (57.1754, -110.0317) -> (30.23, -154.3993) centre (80.23, -154.3993) ccw
  arc A11 (57.1754, -110.0317) -> (-57.1754, -110.0317) centre (0, 0) ccw
  arc A12 (-30.23, -154.3993) -> (-57.1754, -110.0317) centre (-80.23, -154.3993) ccw
  arc A13 (5, -115.8922) -> (115.8922, -5) centre (0, 0) ccw
  line L13 (5, -115.8922) -> (5, -78.8416)
  arc A14 (5, -78.8416) -> (78.8416, -5) centre (0, 0) ccw
  line L14 (78.8416, -5) -> (115.8922, -5)
  line L15 (115.8922, 5) -> (78.8416, 5)
  arc A15 (78.8416, 5) -> (5, 78.8416) centre (0, 0) ccw
  line L16 (5, 78.8416) -> (5, 115.8922)
  arc A16 (115.8922, 5) -> (5, 115.8922) centre (0, 0) ccw
  line L17 (-5, 115.8922) -> (-5, 78.8416)
  arc A17 (-5, 78.8416) -> (-78.8416, 5) centre (0, 0) ccw
  line L18 (-78.8416, 5) -> (-115.8922, 5)
  arc A18 (-5, 115.8922) -> (-115.8922, 5) centre (0, 0) ccw
  line L19 (-70.8237, -5) -> (-35, -5)
  arc A19 (-5, -35) -> (-35, -5) centre (-35, -35) ccw
  line L20 (-5, -35) -> (-5, -70.8237)
  arc A20 (-70.8237, -5) -> (-5, -70.8237) centre (0, 0) ccw
  circle A21 centre (0, 0) radius 2
  line L21 (-5, 70.8237) -> (-5, 35)
  arc A22 (-35, 5) -> (-5, 35) centre (-35, 35) ccw
  line L22 (-35, 5) -> (-70.8237, 5)
  arc A23 (-5, 70.8237) -> (-70.8237, 5) centre (0, 0) ccw
  line L23 (70.8237, 5) -> (35, 5)
  arc A24 (5, 35) -> (35, 5) centre (35, 35) ccw
  line L24 (5, 35) -> (5, 70.8237)
  arc A25 (70.8237, 5) -> (5, 70.8237) centre (0, 0) ccw
  arc A26 (5, -70.8237) -> (70.8237, -5) centre (0, 0) ccw
  line L25 (5, -70.8237) -> (5, -35)
  arc A27 (35, -5) -> (5, -35) centre (35, -35) ccw
  line L26 (35, -5) -> (70.8237, -5)
  line L27 (-115.8922, -5) -> (-78.8416, -5)
  arc A28 (-78.8416, -5) -> (-5, -78.8416) centre (0, 0) ccw
  line L28 (-5, -78.8416) -> (-5, -115.8922)
  arc A29 (-115.8922, -5) -> (-5, -115.8922) centre (0, 0) ccw
  line L29 (4.7177, -0.8404) -> (3.0867, 3.6655)
  line L30 (3.0867, 3.6655) -> (-1.631, 4.5059)
  line L31 (-1.631, 4.5059) -> (-4.7177, 0.8404)
  line L32 (-4.7177, 0.8404) -> (-3.0867, -3.6655)
  line L33 (-3.0867, -3.6655) -> (1.631, -4.5059)
  line L34 (1.631, -4.5059) -> (4.7177, -0.8404)
  dimension "d94" = 4.15
extrude "Extrude14" cut sketch "Sketch12" against normal blind 4 contours L29 L30 L31 L32 L33 L34 bodies 1
revolve "Revolve2" cut sketch "Sketch2" angle 360 about axis through (0, 0, 1.75) along (0, 0, 1) contours A0 L13 L14 | A0 L3 L15 | A0 L3 L16 | A0 L3 L13 L14 | A1 L17 L18 | A1 L7 L20 | A1 L7 L17 L18 | A1 L7 L19 bodies 1
extrude "Extrude15" cut 1 faces at (0.6336, -3.3737, -12.5) along direction (0, 0, 1) blind 4 on bodies 1 bodies 1
extrude "Extrude16" cut 1 faces at (-8.1608, 169.0391, -4.75) along direction (0, 0, -1) blind 2 on bodies 1 bodies 1
extrude "Extrude17" cut 1 faces at (-2.8276, 169.1144, -13.5) along direction (0, 0, 1) blind 2 on bodies 1 bodies 1
equation "d3 = ( 240 / 2 ) * 1 mm"
equation "d4 = ( 150 / 2 ) * 1 mm"
equation "d9 = d12"
equation "d17 = d16"
equation "d18 = d15"
equation "d22 = -d12 + 2 mm"
equation "d48 = d44"
equation "d49 = d45"
equation "d50 = d46"
equation "d51 = d47"
equation "d73 = d72"
equation "d78 = d79"
equation "d94 = ( 8.3 / 2 ) * 1 mm"
